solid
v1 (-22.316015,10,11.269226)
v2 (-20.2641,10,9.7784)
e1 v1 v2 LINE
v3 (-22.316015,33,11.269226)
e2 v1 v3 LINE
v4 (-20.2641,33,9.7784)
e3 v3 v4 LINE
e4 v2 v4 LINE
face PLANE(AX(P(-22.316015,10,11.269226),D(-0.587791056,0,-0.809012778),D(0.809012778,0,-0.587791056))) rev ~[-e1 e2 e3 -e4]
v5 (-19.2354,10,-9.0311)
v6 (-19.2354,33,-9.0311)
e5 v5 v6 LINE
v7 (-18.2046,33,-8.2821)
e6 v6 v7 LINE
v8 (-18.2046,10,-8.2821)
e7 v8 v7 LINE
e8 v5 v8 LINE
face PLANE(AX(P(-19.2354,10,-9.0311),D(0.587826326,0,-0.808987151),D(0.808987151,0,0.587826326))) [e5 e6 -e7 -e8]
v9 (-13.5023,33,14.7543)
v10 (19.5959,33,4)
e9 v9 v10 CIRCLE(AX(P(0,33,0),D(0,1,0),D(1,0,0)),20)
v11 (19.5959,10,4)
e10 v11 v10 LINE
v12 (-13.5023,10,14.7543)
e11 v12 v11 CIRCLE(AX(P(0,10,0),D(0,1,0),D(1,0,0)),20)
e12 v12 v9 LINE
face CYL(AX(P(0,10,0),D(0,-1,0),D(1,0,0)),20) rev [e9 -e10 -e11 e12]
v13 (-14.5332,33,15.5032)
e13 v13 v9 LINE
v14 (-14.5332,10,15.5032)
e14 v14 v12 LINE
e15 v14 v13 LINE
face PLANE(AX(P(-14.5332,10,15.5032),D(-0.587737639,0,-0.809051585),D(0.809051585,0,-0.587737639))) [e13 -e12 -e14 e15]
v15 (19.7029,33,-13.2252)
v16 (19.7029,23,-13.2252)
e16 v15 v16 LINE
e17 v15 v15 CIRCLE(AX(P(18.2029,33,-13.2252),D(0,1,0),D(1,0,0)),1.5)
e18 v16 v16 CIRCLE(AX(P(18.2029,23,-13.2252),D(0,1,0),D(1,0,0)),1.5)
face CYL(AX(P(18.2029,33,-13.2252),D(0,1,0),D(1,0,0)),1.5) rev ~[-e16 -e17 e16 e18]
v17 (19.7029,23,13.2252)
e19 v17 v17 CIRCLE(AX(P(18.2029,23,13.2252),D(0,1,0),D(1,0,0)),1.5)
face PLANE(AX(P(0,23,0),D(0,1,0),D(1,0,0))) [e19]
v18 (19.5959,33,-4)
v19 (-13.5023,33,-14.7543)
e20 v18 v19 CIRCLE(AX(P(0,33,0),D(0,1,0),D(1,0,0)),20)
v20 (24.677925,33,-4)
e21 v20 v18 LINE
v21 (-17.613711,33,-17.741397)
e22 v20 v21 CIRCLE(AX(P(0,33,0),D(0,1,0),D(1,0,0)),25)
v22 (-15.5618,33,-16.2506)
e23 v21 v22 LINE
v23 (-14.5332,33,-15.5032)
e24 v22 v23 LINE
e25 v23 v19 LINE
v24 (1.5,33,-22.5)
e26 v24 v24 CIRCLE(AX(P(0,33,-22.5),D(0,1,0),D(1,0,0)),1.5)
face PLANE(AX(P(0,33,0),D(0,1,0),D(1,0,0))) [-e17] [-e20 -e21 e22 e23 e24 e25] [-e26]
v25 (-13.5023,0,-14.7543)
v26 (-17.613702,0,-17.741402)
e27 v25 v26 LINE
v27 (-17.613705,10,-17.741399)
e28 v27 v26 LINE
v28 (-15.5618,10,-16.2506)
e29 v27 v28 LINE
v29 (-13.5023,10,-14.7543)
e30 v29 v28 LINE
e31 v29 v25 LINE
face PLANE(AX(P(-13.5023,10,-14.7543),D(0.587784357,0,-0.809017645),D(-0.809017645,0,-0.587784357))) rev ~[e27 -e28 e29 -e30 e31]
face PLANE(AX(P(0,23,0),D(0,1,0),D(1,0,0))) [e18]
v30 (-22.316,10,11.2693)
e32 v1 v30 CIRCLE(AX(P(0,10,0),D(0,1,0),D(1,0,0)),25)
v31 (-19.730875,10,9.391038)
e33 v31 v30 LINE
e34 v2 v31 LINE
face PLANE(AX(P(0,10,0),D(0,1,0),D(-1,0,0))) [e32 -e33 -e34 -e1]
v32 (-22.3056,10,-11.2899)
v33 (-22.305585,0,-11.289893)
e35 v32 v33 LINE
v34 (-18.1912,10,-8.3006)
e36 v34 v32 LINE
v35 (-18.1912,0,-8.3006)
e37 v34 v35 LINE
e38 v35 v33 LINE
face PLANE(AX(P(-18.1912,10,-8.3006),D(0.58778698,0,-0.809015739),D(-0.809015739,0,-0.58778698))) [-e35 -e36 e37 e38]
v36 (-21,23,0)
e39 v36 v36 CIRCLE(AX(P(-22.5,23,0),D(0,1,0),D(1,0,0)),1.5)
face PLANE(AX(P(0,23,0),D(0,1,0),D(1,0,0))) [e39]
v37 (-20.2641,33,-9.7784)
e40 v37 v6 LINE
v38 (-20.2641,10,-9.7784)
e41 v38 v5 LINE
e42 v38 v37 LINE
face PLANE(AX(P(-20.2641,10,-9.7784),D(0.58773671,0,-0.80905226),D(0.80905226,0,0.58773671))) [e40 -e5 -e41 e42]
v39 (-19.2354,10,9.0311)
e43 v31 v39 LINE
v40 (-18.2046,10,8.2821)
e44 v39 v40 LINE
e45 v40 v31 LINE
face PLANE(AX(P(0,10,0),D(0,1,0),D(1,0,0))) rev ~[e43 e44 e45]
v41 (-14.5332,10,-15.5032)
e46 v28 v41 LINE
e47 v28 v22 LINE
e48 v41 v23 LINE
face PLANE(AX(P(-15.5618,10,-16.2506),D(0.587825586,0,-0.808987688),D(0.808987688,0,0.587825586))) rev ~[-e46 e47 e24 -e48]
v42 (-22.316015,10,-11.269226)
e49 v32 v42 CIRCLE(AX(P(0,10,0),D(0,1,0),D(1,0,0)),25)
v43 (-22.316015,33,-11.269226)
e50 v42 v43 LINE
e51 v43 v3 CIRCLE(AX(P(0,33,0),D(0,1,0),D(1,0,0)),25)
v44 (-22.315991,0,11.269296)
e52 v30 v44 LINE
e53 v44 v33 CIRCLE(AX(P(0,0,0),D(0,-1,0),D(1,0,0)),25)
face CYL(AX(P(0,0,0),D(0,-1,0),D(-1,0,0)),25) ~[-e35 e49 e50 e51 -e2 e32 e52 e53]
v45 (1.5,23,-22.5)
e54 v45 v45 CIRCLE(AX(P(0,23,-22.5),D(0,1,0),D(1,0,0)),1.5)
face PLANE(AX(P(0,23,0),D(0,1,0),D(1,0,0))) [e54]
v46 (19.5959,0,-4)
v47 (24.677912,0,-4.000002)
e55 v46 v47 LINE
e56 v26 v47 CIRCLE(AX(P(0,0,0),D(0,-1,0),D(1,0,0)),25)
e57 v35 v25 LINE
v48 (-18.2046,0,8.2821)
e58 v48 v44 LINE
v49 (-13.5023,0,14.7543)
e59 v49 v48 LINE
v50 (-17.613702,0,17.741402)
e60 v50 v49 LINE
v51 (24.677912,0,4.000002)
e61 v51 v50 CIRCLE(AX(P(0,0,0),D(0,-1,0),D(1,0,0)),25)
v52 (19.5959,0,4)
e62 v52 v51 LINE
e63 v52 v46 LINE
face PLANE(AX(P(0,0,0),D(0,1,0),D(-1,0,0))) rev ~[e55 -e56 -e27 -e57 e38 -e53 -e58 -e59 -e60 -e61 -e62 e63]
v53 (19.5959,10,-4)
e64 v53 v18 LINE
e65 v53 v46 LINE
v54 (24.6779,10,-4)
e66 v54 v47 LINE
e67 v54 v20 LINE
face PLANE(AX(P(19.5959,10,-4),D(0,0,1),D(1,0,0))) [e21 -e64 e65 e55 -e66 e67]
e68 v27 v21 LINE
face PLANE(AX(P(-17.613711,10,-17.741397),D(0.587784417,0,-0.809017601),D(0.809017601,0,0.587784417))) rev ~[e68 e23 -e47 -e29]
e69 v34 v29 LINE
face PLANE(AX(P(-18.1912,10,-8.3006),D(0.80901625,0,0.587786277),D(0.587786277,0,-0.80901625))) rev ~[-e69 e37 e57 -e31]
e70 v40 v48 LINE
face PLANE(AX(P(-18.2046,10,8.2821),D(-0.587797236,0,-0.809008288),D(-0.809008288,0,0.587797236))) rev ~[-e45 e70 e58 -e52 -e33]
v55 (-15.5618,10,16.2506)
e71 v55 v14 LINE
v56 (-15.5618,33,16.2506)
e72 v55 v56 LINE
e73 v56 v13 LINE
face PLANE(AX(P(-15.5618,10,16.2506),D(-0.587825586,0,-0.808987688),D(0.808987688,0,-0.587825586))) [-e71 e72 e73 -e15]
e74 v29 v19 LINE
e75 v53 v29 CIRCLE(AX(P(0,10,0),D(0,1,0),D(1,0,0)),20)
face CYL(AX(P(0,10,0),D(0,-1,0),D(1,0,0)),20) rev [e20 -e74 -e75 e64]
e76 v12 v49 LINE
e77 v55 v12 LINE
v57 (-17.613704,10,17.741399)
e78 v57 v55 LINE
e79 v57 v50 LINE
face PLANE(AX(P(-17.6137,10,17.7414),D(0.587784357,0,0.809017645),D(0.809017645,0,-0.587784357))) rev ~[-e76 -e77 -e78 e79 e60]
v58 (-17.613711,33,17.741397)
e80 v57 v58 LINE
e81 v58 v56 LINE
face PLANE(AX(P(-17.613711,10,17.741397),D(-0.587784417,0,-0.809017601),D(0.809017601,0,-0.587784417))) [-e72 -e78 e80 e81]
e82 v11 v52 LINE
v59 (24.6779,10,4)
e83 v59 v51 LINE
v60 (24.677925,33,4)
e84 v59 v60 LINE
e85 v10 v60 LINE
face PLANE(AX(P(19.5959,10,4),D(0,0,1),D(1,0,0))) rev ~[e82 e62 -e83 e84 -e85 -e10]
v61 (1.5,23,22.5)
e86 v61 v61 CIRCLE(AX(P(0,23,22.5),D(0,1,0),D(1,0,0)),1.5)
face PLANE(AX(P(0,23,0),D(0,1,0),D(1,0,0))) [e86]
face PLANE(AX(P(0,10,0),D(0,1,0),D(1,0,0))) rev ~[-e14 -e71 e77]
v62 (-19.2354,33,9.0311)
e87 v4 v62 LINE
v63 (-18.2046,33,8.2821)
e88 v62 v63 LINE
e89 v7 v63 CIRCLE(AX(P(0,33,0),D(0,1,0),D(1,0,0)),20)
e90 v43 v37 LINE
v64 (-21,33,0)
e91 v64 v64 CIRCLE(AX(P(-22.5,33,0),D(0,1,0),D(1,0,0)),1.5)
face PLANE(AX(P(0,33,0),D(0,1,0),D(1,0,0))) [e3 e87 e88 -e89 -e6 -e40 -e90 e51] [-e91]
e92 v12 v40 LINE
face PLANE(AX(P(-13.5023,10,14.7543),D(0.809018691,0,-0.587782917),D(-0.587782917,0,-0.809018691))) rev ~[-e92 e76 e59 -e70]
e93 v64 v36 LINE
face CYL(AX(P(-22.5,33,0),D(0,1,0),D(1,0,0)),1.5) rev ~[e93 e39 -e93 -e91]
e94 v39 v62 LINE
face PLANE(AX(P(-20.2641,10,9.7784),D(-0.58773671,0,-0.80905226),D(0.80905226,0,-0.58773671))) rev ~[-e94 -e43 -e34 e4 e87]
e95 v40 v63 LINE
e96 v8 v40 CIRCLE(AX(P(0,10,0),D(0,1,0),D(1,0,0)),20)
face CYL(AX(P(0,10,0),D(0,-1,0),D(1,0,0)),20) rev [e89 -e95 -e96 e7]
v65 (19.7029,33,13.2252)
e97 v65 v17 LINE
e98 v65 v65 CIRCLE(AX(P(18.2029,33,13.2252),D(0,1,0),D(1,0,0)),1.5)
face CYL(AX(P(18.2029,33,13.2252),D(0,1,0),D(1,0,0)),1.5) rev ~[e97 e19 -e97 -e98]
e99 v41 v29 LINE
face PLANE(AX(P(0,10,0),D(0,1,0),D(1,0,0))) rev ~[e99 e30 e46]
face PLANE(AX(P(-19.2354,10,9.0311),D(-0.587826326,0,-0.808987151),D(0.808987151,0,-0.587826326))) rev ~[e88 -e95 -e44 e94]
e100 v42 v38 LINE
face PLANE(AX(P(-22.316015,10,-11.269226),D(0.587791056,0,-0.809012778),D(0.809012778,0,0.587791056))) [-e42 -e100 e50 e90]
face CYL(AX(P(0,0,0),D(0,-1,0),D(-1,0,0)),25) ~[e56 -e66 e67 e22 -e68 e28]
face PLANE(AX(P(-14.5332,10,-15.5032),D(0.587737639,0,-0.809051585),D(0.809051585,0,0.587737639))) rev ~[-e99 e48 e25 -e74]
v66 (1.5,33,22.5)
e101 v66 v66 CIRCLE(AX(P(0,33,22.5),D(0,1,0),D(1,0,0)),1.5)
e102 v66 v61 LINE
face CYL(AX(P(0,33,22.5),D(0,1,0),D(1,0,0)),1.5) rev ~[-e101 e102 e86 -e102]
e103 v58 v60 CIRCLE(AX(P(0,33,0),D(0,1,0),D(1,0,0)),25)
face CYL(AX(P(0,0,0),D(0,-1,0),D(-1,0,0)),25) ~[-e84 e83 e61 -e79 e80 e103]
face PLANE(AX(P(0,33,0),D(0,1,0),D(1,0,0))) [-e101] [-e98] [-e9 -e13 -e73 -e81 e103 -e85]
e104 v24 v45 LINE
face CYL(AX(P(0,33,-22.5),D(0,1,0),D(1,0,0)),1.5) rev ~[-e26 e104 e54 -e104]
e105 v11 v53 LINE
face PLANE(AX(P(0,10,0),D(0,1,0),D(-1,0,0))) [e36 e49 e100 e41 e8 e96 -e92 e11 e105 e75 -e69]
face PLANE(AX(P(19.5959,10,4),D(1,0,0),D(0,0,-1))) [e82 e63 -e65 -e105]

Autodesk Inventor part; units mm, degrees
ref_plane "YZ Plane" through (0, 0, 0) normal (1, 0, 0) x (0, 1, 0)
ref_plane "XZ Plane" through (0, 0, 0) normal (0, 1, 0) x (-1, 0, 0)
ref_plane "XY Plane" through (0, 0, 0) normal (0, 0, 1) x (1, 0, 0)
sketch "Sketch1" plane through (0, 0, 0) normal (0, 1, 0) x (-1, 0, 0)
  line L0 (0, 0) -> (50, 0) construction
  line L1 (0, 0) -> (50, 0) construction
  line L2 (34.573, 37.4794) -> (12.6591, 21.558)
  line L3 (46.3287, 21.2991) -> (24.4148, 5.3777)
  line L4 (46.3287, -21.2991) -> (24.4148, -5.3777)
  line L5 (34.573, -37.4794) -> (12.6591, -21.558)
  line L6 (-50, -10) -> (-22.9129, -10)
  line L7 (56.6312, -41.145) -> (50.7533, -49.2351)
  line L8 (50.7533, -49.2351) -> (62.509, -33.0548)
  line L9 (62.509, -33.0548) -> (46.3287, -21.2991)
  line L10 (50.7533, -49.2351) -> (34.573, -37.4794)
  line L11 (46.3287, 21.2991) -> (62.509, 33.0548)
  line L12 (62.509, 33.0548) -> (50.7533, 49.2351)
  line L13 (50.7533, 49.2351) -> (34.573, 37.4794)
  line L14 (-50, 10) -> (-70, 10)
  line L15 (-70, 10) -> (-70, -10)
  line L16 (-70, -10) -> (-50, -10)
  line L17 (0, 0) -> (-36, 0)
  circle A0 centre (0, 0) radius 25
  line L18 (-22.9129, 10) -> (-50, 10)
  dimension "d52" = 10
  dimension "d53" = 20
  dimension "d67" = 36
  dimension "d68" = 50
extrude "Extrusion1" add sketch "Sketch1" along normal blind 10
sketch "Sketch8" plane through (-62.509, 0, -33.0548) normal (-0.809, 0, -0.5878) x (-0.5878, 0, 0.809)
  line L0 (-10, 3) -> (-14, 3)
  line L1 (-17, 3) -> (-14, 3)
  line L2 (-3, 3) -> (-3, 7)
  line L3 (-3, 7) -> (-6, 7)
  line L4 (-17, 7) -> (-17, 3)
  line L5 (-10, 0) -> (-6, 0)
  line L6 (14.8816, 0) -> (-15.3777, 0) projected
  line L7 (-6, 0) -> (-6, 3)
  line L8 (-6, 7) -> (-6, 10)
  line L9 (14.8816, 10) -> (-15.3777, 10) projected
  line L10 (-6, 10) -> (-14, 10)
  line L11 (-14, 10) -> (-14, 7)
  line L12 (-14, 3) -> (-14, 0)
  line L13 (-14, 3) -> (-17, 3)
  line L14 (-6, 3) -> (-3, 3)
  line L15 (-14, 7) -> (-17, 7)
  point P0 (-14, 10)
  point P1 (-14, 0)
  dimension "d85" = 3
  dimension "d86" = 7
  dimension "d87" = 14
  dimension "d88" = 4
  dimension "d89" = 4
  dimension "d90" = 8
extrude "Extrusion7" cut sketch "Sketch8" against normal blind 38
sketch "Sketch9" plane through (-50.7533, 0, 49.2351) normal (-0.809, 0, 0.5878) x (0.5878, 0, 0.809)
  line L0 (-10, 3) -> (-14, 3)
  line L1 (-17, 3) -> (-14, 3)
  line L2 (-3, 3) -> (-3, 7)
  line L3 (-3, 7) -> (-6, 7)
  line L4 (-17, 7) -> (-17, 3)
  line L5 (-10, 0) -> (-6, 0)
  line L6 (-6, 0) -> (-6, 3)
  line L7 (-6, 7) -> (-6, 10)
  line L8 (-6, 10) -> (-14, 10)
  line L9 (-14, 10) -> (-14, 7)
  line L10 (-14, 3) -> (-14, 0)
  line L11 (-14, 3) -> (-17, 3)
  line L12 (-6, 3) -> (-3, 3)
  line L13 (-14, 7) -> (-17, 7)
  line L14 (-14, 0) -> (-6, 0)
  line L15 (-6, 3) -> (-3, 3)
  line L16 (-3, 7) -> (-6, 7)
  line L17 (-6, 10) -> (-14, 10)
  line L18 (-4.6223, 10) -> (-34.8816, 10) projected
  line L19 (-14, 10) -> (-14, 7)
  line L20 (-17, 7) -> (-14, 7)
  line L21 (-17, 7) -> (-17, 3)
  line L22 (-14, 3) -> (-17, 3)
  line L23 (-14, 3) -> (-14, 0)
  line L24 (-4.6223, 0) -> (-34.8816, 0) projected
  line L25 (-3, 3) -> (-3, 7)
  line L26 (-6, 7) -> (-6, 10)
  line L27 (-6, 3) -> (-6, 0)
  point P0 (-10, 0)
  point P1 (-15.3777, 0)
  point P2 (-15.3777, 10)
  point P3 (-10, 0)
  dimension "d93" = 3
  dimension "d94" = 7
  dimension "d95" = 14
  dimension "d96" = 4
  dimension "d97" = 4
  dimension "d98" = 8
extrude "Extrusion8" cut sketch "Sketch9" against normal blind 38
sketch "Sketch10" plane through (70, 0, 10) normal (1, 0, 0) x (0, 0, -1)
  line L0 (10, 0) -> (10, 3)
  line L1 (10, 3) -> (17, 3)
  line L2 (17, 3) -> (3, 3)
  line L3 (3, 3) -> (6, 3)
  line L4 (6, 3) -> (6, 0)
  line L5 (0, 0) -> (20, 0) projected
  line L6 (6, 0) -> (14, 0)
  line L7 (14, 0) -> (14, 3)
  line L8 (17, 3) -> (17, 7)
  line L9 (17, 7) -> (3, 7)
  line L10 (3, 7) -> (3, 3)
  line L11 (14, 7) -> (14, 10)
  line L12 (0, 10) -> (20, 10) projected
  line L13 (6, 10) -> (14, 10)
  line L14 (6, 10) -> (6, 7)
  dimension "d101" = 3
  dimension "d102" = 7
  dimension "d103" = 14
  dimension "d104" = 3
  dimension "d105" = 8
  dimension "d106" = 4
extrude "Extrusion9" cut sketch "Sketch10" against normal blind 38
sketch "Sketch12" plane through (70, 0, 10) normal (1, 0, 0) x (0, 0, -1)
  line L0 (20, 10) -> (0, 10) projected
  line L1 (43.0548, 0) -> (15.3777, 0) projected
  line L2 (0, 10) -> (20, 10)
  line L3 (20, 10) -> (20, 0)
  line L4 (20, 0) -> (0, 0)
  line L5 (0, 0) -> (0, 10)
  line L6 (0, 10) -> (2.5, 10)
  circle A0 centre (2.5, 8.5) radius 0.5
  circle A1 centre (2.5, 1.5) radius 0.5
  circle A2 centre (17.5, 1.5) radius 0.5
  circle A3 centre (17.5, 8.5) radius 0.5
  point P0 (10, 0)
  point P1 (16.8377, 0)
  point P2 (16.8377, 0)
  dimension "d119" = 20
  dimension "d120" = 2.5
  dimension "d123" = 1
  dimension "d126" = 1
  dimension "d127" = 1
  dimension "d128" = 1
extrude "Extrusion14" cut sketch "Sketch12" against normal blind 10
extrude "Extrusion15" cut sketch "Sketch12" against normal blind 14 contours A0 | A1 | A2 | A3
sketch "Sketch13" plane through (-50.7533, 0, -49.2351) normal (-0.809, 0, -0.5878) x (-0.5878, 0, 0.809)
  line L0 (20, 10) -> (0, 10)
  line L1 (0, 10) -> (20, 10)
  line L2 (20, 10) -> (20, 0)
  line L3 (20, 0) -> (0, 0)
  line L4 (0, 0) -> (0, 10)
  line L5 (0, 10) -> (2.5, 10)
  circle A0 centre (2.5, 8.5) radius 0.5
  circle A1 centre (2.5, 1.5) radius 0.5
  circle A2 centre (17.5, 1.5) radius 0.5
  circle A3 centre (17.5, 8.5) radius 0.5
  point P0 (10, 0)
  point P1 (10, 0)
  point P2 (16.8377, 0)
  point P3 (20, 10)
  dimension "d133" = 20
  dimension "d134" = 2.5
  dimension "d135" = 1
  dimension "d136" = 1
  dimension "d137" = 1
  dimension "d138" = 1
extrude "Extrusion16" cut sketch "Sketch13" against normal blind 10
extrude "Extrusion17" cut sketch "Sketch13" against normal blind 14 contours A0 | A1 | A2 | A3
sketch "Sketch14" plane through (-62.509, 0, 33.0548) normal (-0.809, 0, 0.5878) x (0.5878, 0, 0.809)
  line L0 (20, 10) -> (0, 10)
  line L1 (0, 10) -> (20, 10)
  line L2 (20, 10) -> (20, 0)
  line L3 (20, 0) -> (0, 0)
  line L4 (0, 0) -> (0, 10)
  line L5 (0, 10) -> (2.5, 10)
  circle A0 centre (2.5, 8.5) radius 0.5
  circle A1 centre (2.5, 1.5) radius 0.5
  circle A2 centre (17.5, 1.5) radius 0.5
  circle A3 centre (17.5, 8.5) radius 0.5
  point P0 (10, 0)
  point P1 (10, 0)
  point P2 (10, 0)
  point P3 (16.8377, 0)
  point P4 (20, 10)
  point P5 (20, 10)
  dimension "d143" = 20
  dimension "d144" = 2.5
  dimension "d145" = 1
  dimension "d146" = 1
  dimension "d147" = 1
  dimension "d148" = 1
extrude "Extrusion18" cut sketch "Sketch14" against normal blind 10
extrude "Extrusion19" cut sketch "Sketch14" against normal blind 14 contours A0 | A1 | A2 | A3
sketch "Sketch30" plane through (0, 10, 0) normal (0, 1, 0) x (1, 0, 0)
  line L0 (44, -4) -> (45, -4)
  line L1 (44, -4) -> (52, -4)
  line L2 (52, -4) -> (52, -10)
  line L3 (52, -10) -> (44, -10)
  line L4 (44, -10) -> (44, -4)
  line L5 (33.5, 4) -> (41.5, 4)
  line L6 (41.5, 4) -> (41.5, 10)
  line L7 (41.5, 10) -> (33.5, 10)
  line L8 (33.5, 10) -> (33.5, 4)
  line L9 (-24.7509, -22.9269) -> (-31.2231, -27.6292)
  line L10 (-31.2231, -27.6292) -> (-27.6611, -32.4577)
  line L11 (-27.6611, -32.4577) -> (-21.189, -27.7554)
  line L12 (-21.189, -27.7554) -> (-24.7509, -22.9269)
  line L13 (-50.8922, -32.031) -> (-28.2397, -15.5731) projected
  line L14 (-37.9479, -22.6265) -> (-44.42, -27.3288)
  line L15 (-44.42, -27.3288) -> (-47.9467, -22.4747)
  line L16 (-24.4148, -5.3777) -> (-54.4189, -27.1769) projected
  line L17 (-47.9467, -22.4747) -> (-41.4746, -17.7724)
  line L18 (-41.4746, -17.7724) -> (-37.9479, -22.6265)
  line L19 (-28.2397, 15.5731) -> (-50.8922, 32.031) projected
  line L20 (-50.8922, 32.031) -> (-28.2397, 15.5731) projected
  line L21 (-28.2397, 15.5731) -> (-29.4532, 16.4547)
  line L22 (-29.4532, 16.4547) -> (-32.9799, 11.6006)
  line L23 (-54.4189, 27.1769) -> (-24.4148, 5.3777) projected
  line L24 (-29.4532, 16.4547) -> (-35.9253, 21.157)
  line L25 (-35.9253, 21.157) -> (-39.4521, 16.3029)
  line L26 (-39.4521, 16.3029) -> (-32.9799, 11.6006)
  line L27 (-46.1899, 38.5032) -> (-23.5374, 22.0452) projected
  line L28 (-33.2456, 29.0986) -> (-39.7177, 33.8009)
  line L29 (-39.7177, 33.8009) -> (-36.191, 38.655)
  line L30 (-12.6591, 21.558) -> (-42.6632, 43.3573) projected
  line L31 (-33.2456, 29.0986) -> (-29.7189, 33.9527)
  line L32 (-46.1899, 38.5032) -> (-23.5374, 22.0452) projected
  line L33 (-29.7189, 33.9527) -> (-36.191, 38.655)
  point P0 (0, 0)
  point P1 (32, 4)
  point P2 (42, 10)
  point P3 (34, 10)
  point P4 (41, 10)
  point P5 (-23.5374, -22.0452)
  dimension "d249" = 1
  dimension "d251" = 8
  dimension "d258" = 8
  dimension "d268" = 8
  dimension "d269" = 1.5
  dimension "d270" = 8
  dimension "d271" = 8
  dimension "d278" = 12
  dimension "d279" = 8
  dimension "d282" = 1.5
  dimension "d283" = 8
  dimension "d284" = 12
  dimension "d285" = 8
extrude "Extrusion35" add sketch "Sketch30" along normal blind 35
sketch "Sketch31" plane through (22.9129, 0, -10) normal (0, 0, -1) x (-1, 0, 0)
  line L0 (-9.0871, 45) -> (-19.0871, 45) projected
  circle A0 centre (-14.5871, 28.5) radius 1.5
  point P0 (22.9129, 0)
  dimension "d264" = 3
extrude "Extrusion36" cut sketch "Sketch31" against normal up to next
sketch "Sketch32" plane through (32, 7, 4) normal (0, 0, -1) x (-1, 0, 0)
  line L0 (-20, 38) -> (-12, 38) projected
  line L1 (-16, 38) -> (-16, 33)
  circle A0 centre (-16, 33) radius 1.5
  point P0 (32, -7)
  dimension "d253" = 5
  dimension "d254" = 3
extrude "Extrusion37" cut sketch "Sketch32" against normal up to next
sketch "Sketch33" plane through (-23.5374, 7, 22.0452) normal (-0.5878, 0, -0.809) x (-0.809, 0, 0.5878)
  line L0 (9.4564, 38) -> (1.4564, 38) projected
  line L1 (5.4564, 38) -> (5.4564, 21.5)
  circle A0 centre (5.4564, 21.5) radius 1.5
  point P0 (-32, -7)
  dimension "d286" = 16.5
  dimension "d287" = 3
sketch "Sketch34" plane through (-24.4148, 0, 5.3777) normal (-0.5878, 0, -0.809) x (-0.809, 0, 0.5878)
  line L0 (29.0871, 45) -> (21.0871, 45) projected
  line L1 (25.0871, 45) -> (25.0871, 40)
  circle A0 centre (25.0871, 40) radius 1.5
  point P0 (-22.9129, 0)
  dimension "d288" = 5
  dimension "d289" = 3
sketch "Sketch35" plane through (-28.2397, 7, -15.5731) normal (0.5878, 0, -0.809) x (-0.809, 0, -0.5878)
  line L0 (1.5, 38) -> (9.5, 38) projected
  line L1 (5.5, 38) -> (5.5, 21.5)
  circle A0 centre (5.5, 21.5) radius 1.5
  point P0 (-32, -7)
  dimension "d290" = 16.5
  dimension "d291" = 3
sketch "Sketch36" plane through (-12.6591, 0, -21.558) normal (0.5878, 0, -0.809) x (-0.809, 0, -0.5878)
  line L0 (29.0871, 45) -> (21.0871, 45) projected
  line L1 (25.0871, 45) -> (25.0871, 40)
  circle A0 centre (25.0871, 40) radius 1.5
  point P0 (-22.9129, 0)
  dimension "d292" = 5
  dimension "d293" = 3
extrude "Extrusion38" cut sketch "Sketch36" against normal up to next
extrude "Extrusion39" cut sketch "Sketch35" against normal up to next
extrude "Extrusion40" cut sketch "Sketch34" against normal up to next
extrude "Extrusion41" cut sketch "Sketch33" against normal up to next
sketch "Sketch37" plane through (0, 10, 0) normal (0, 1, 0) x (1, 0, 0)
  circle A0 centre (0, 0) radius 25
  circle A1 centre (0, 0) radius 22.5
  line L0 (-23.5374, 22.0452) -> (-15.5618, 16.2506)
  line L1 (-23.5374, 22.0452) -> (-13.679, 22.0452) construction
  line L2 (-50.8922, 32.031) -> (-28.2397, 15.5731) projected
  line L3 (-28.2397, 15.5731) -> (-20.2641, 9.7784)
  line L4 (-28.2397, -15.5731) -> (-20.2641, -9.7784)
  line L5 (-23.5374, -22.0452) -> (-15.5618, -16.2506)
  line L6 (60, 4) -> (32, 4) projected
  line L7 (32, 4) -> (22.1416, 4)
  line L8 (32, -4) -> (22.1416, -4)
  circle A2 centre (0, 0) radius 21.25
  line L9 (-20.2641, -9.7784) -> (-19.2354, -9.0311)
  line L10 (-15.5618, -16.2506) -> (-14.5332, -15.5032)
  line L11 (-20.2641, 9.7784) -> (-19.2354, 9.0311)
  line L12 (-15.5618, 16.2506) -> (-14.5332, 15.5032)
  line L13 (22.1416, 4) -> (20.8701, 4)
  line L14 (22.1416, -4) -> (20.8701, -4)
  circle A3 centre (0, 0) radius 22.5
  circle A4 centre (0, 0) radius 21.25
  circle A5 centre (0, 0) radius 20
  line L15 (-19.2354, 9.0311) -> (-18.2046, 8.2821)
  line L16 (-14.5332, 15.5032) -> (-13.5023, 14.7543)
  line L17 (20.8701, -4) -> (19.5959, -4)
  line L18 (20.8701, 4) -> (19.5959, 4)
  line L19 (-14.5332, -15.5032) -> (-13.5023, -14.7543)
  line L20 (-19.2354, -9.0311) -> (-18.2046, -8.2821)
  point P0 (24.6779, -4)
  point P1 (-17.6137, -17.7414)
  point P2 (-22.316, -11.2693)
  point P3 (-22.316, 11.2693)
  point P4 (24.6779, 4)
  point P5 (-17.6137, 17.7414)
  dimension "d302" = 45
  dimension "d303" = 36
  dimension "d306" = 42.5
  dimension "d315" = 45
  dimension "d316" = 42.5
  dimension "d317" = 40
extrude "Extrusion42" add sketch "Sketch37" along normal blind 23 contours L7 A1 L0 A0 | A0 L5 A1 L8 | L13 A2 L12 A1 | A1 L10 A2 L14 | L3 A1 L4 A0 | L18 A5 L16 A2 | A2 L19 A5 L17 | L11 A2 L9 A1 | L15 A5 L20 A2
sketch "Sketch38" plane through (0, 33, 0) normal (0, 1, 0) x (1, 0, 0)
  line L0 (22.1416, 4) -> (20.8701, 4)
  line L1 (22.1416, -4) -> (20.8701, -4)
  line L2 (24.6779, 4) -> (22.1416, 4)
  line L3 (24.6779, -4) -> (22.1416, -4)
  line L4 (-15.5618, -16.2506) -> (-14.5332, -15.5032)
  line L5 (-15.5618, 16.2506) -> (-14.5332, 15.5032)
  line L6 (-20.2641, -9.7784) -> (-19.2354, -9.0311)
  line L7 (-17.6137, -17.7414) -> (-15.5618, -16.2506)
  line L8 (-22.316, -11.2693) -> (-20.2641, -9.7784)
  line L9 (-20.2641, 9.7784) -> (-19.2354, 9.0311)
  line L10 (-17.6137, 17.7414) -> (-15.5618, 16.2506)
  line L11 (-22.316, 11.2693) -> (-20.2641, 9.7784)
  line L12 (-23.5374, 22.0452) -> (-13.679, 22.0452) construction
  arc A0 (-17.6137, -17.7414) -> (24.6779, -4) centre (0, 0) ccw
  arc A1 (24.6779, 4) -> (-17.6137, 17.7414) centre (0, 0) ccw
  arc A2 (-22.316, 11.2693) -> (-22.316, -11.2693) centre (0, 0) ccw
  line L13 (20.8701, 4) -> (15.8701, 4)
  line L14 (15.8701, 4) -> (15.8701, -4)
  line L15 (15.8701, -4) -> (20.8701, -4)
  line L16 (-14.5332, 15.5032) -> (-10.4881, 12.5643)
  line L17 (-10.4881, 12.5643) -> (-15.1903, 6.0922)
  line L18 (-15.1903, 6.0922) -> (-19.2354, 9.0311)
  line L19 (-19.2354, -9.0311) -> (-15.1903, -6.0922)
  line L20 (-15.1903, -6.0922) -> (-10.4881, -12.5643)
  line L21 (-10.4881, -12.5643) -> (-14.5332, -15.5032)
  circle A3 centre (-22.5, 0) radius 1.5
  circle A4 centre (0, 22.5) radius 1.5
  circle A5 centre (18.2029, 13.2252) radius 1.5
  circle A6 centre (18.2029, -13.2252) radius 1.5
  circle A7 centre (0, -22.5) radius 1.5
  point P0 (-23.5374, -22.0452)
  point P1 (-28.2397, -15.5731)
  dimension "d307" = 36
  dimension "d308" = 5
  dimension "d309" = 5
  dimension "d310" = 3
  dimension "d311" = 3
  dimension "d312" = 3
  dimension "d313" = 3
  dimension "d314" = 3
extrude "Extrusion43" cut sketch "Sketch38" against normal blind 10 contours A3 | A4 | A5 | A6 | A7
sketch "Sketch39" plane through (0, 45, 0) normal (0, 1, 0) x (1, 0, 0)
  line L0 (-37.9479, -22.6265) -> (-41.4746, -17.7724) projected
  line L1 (-47.9467, -22.4747) -> (-44.42, -27.3288) projected
  line L2 (-31.2231, -27.6292) -> (-27.6611, -32.4577) projected
  circle A0 centre (-42.9473, -22.5506) radius 1.5
  circle A1 centre (-26.2405, -27.6816) radius 1.5
  line L3 (-29.7189, 33.9527) -> (-36.191, 38.655) projected
  line L4 (-39.7177, 33.8009) -> (-33.2456, 29.0986) projected
  line L5 (-29.4532, 16.4547) -> (-35.9253, 21.157) projected
  line L6 (41.5, 10) -> (33.5, 10) projected
  line L7 (33.5, 4) -> (41.5, 4) projected
  line L8 (44, -10) -> (52, -10) projected
  circle A2 centre (48, -7) radius 1.5
  circle A3 centre (37.5, 7) radius 1.5
  circle A4 centre (-34.7183, 33.8768) radius 1.5
  circle A5 centre (-34.4526, 16.3788) radius 1.5
  point P0 (0, 0)
  point P1 (-32.9799, 11.6006)
  point P2 (44, -4)
  dimension "d320" = 3
  dimension "d321" = 3
  dimension "d322" = 3
  dimension "d323" = 3
  dimension "d325" = 3
extrude "Extrusion44" cut sketch "Sketch39" against normal blind 3
sketch "Sketch40" plane through (0, 33, 0) normal (0, 1, 0) x (1, 0, 0)
  circle A0 centre (0, 0) radius 82.7882
  circle A1 centre (0, 0) radius 25
  dimension "d331" = 50
extrude "Extrusion46" cut sketch "Sketch40" against normal through all both and the other way through all
sketch "Sketch42" plane through (0, 10, 0) normal (0, 1, 0) x (1, 0, 0)
  line L0 (-18.2046, -8.2821) -> (-22.316, -11.2693) projected
  line L1 (-13.5023, -14.7543) -> (-18.2046, -8.2821)
  line L2 (-13.5023, 14.7543) -> (-17.6137, 17.7414) projected
  line L3 (-18.1912, 8.3006) -> (-13.5023, 14.7543)
  arc A0 (-13.5023, -14.7543) -> (19.5959, -4) centre (0, 0) ccw projected
  arc A1 (19.5959, 4) -> (-13.5023, 14.7543) centre (0, 0) ccw projected
  line L4 (19.5959, -4) -> (19.5959, 4)
  circle A2 centre (0, 0) radius 25
  line L5 (-17.6137, -17.7414) -> (-13.5023, -14.7543) projected
  line L6 (-17.6137, -17.7414) -> (-13.5023, -14.7543)
  arc A3 (-22.316, -11.2693) -> (-17.6137, -17.7414) centre (0, 0) ccw projected
  line L7 (-22.316, -11.2693) -> (-18.2046, -8.2821)
  line L8 (-17.6137, 17.7414) -> (-13.5023, 14.7543)
  line L9 (-18.1912, 8.3006) -> (-22.3056, 11.2899)
  line L10 (19.5959, -4) -> (24.6779, -4) projected
  line L11 (19.5959, -4) -> (24.6779, -4)
  line L12 (19.5959, 4) -> (24.6779, 4)
  dimension "d334" = 50
extrude "Extrusion47" cut sketch "Sketch42" against normal through all contours L1 L5 A2 L0 | A2 L2 L3 L9 | L4 L12 A2 L10
properties part number "basePart1"
